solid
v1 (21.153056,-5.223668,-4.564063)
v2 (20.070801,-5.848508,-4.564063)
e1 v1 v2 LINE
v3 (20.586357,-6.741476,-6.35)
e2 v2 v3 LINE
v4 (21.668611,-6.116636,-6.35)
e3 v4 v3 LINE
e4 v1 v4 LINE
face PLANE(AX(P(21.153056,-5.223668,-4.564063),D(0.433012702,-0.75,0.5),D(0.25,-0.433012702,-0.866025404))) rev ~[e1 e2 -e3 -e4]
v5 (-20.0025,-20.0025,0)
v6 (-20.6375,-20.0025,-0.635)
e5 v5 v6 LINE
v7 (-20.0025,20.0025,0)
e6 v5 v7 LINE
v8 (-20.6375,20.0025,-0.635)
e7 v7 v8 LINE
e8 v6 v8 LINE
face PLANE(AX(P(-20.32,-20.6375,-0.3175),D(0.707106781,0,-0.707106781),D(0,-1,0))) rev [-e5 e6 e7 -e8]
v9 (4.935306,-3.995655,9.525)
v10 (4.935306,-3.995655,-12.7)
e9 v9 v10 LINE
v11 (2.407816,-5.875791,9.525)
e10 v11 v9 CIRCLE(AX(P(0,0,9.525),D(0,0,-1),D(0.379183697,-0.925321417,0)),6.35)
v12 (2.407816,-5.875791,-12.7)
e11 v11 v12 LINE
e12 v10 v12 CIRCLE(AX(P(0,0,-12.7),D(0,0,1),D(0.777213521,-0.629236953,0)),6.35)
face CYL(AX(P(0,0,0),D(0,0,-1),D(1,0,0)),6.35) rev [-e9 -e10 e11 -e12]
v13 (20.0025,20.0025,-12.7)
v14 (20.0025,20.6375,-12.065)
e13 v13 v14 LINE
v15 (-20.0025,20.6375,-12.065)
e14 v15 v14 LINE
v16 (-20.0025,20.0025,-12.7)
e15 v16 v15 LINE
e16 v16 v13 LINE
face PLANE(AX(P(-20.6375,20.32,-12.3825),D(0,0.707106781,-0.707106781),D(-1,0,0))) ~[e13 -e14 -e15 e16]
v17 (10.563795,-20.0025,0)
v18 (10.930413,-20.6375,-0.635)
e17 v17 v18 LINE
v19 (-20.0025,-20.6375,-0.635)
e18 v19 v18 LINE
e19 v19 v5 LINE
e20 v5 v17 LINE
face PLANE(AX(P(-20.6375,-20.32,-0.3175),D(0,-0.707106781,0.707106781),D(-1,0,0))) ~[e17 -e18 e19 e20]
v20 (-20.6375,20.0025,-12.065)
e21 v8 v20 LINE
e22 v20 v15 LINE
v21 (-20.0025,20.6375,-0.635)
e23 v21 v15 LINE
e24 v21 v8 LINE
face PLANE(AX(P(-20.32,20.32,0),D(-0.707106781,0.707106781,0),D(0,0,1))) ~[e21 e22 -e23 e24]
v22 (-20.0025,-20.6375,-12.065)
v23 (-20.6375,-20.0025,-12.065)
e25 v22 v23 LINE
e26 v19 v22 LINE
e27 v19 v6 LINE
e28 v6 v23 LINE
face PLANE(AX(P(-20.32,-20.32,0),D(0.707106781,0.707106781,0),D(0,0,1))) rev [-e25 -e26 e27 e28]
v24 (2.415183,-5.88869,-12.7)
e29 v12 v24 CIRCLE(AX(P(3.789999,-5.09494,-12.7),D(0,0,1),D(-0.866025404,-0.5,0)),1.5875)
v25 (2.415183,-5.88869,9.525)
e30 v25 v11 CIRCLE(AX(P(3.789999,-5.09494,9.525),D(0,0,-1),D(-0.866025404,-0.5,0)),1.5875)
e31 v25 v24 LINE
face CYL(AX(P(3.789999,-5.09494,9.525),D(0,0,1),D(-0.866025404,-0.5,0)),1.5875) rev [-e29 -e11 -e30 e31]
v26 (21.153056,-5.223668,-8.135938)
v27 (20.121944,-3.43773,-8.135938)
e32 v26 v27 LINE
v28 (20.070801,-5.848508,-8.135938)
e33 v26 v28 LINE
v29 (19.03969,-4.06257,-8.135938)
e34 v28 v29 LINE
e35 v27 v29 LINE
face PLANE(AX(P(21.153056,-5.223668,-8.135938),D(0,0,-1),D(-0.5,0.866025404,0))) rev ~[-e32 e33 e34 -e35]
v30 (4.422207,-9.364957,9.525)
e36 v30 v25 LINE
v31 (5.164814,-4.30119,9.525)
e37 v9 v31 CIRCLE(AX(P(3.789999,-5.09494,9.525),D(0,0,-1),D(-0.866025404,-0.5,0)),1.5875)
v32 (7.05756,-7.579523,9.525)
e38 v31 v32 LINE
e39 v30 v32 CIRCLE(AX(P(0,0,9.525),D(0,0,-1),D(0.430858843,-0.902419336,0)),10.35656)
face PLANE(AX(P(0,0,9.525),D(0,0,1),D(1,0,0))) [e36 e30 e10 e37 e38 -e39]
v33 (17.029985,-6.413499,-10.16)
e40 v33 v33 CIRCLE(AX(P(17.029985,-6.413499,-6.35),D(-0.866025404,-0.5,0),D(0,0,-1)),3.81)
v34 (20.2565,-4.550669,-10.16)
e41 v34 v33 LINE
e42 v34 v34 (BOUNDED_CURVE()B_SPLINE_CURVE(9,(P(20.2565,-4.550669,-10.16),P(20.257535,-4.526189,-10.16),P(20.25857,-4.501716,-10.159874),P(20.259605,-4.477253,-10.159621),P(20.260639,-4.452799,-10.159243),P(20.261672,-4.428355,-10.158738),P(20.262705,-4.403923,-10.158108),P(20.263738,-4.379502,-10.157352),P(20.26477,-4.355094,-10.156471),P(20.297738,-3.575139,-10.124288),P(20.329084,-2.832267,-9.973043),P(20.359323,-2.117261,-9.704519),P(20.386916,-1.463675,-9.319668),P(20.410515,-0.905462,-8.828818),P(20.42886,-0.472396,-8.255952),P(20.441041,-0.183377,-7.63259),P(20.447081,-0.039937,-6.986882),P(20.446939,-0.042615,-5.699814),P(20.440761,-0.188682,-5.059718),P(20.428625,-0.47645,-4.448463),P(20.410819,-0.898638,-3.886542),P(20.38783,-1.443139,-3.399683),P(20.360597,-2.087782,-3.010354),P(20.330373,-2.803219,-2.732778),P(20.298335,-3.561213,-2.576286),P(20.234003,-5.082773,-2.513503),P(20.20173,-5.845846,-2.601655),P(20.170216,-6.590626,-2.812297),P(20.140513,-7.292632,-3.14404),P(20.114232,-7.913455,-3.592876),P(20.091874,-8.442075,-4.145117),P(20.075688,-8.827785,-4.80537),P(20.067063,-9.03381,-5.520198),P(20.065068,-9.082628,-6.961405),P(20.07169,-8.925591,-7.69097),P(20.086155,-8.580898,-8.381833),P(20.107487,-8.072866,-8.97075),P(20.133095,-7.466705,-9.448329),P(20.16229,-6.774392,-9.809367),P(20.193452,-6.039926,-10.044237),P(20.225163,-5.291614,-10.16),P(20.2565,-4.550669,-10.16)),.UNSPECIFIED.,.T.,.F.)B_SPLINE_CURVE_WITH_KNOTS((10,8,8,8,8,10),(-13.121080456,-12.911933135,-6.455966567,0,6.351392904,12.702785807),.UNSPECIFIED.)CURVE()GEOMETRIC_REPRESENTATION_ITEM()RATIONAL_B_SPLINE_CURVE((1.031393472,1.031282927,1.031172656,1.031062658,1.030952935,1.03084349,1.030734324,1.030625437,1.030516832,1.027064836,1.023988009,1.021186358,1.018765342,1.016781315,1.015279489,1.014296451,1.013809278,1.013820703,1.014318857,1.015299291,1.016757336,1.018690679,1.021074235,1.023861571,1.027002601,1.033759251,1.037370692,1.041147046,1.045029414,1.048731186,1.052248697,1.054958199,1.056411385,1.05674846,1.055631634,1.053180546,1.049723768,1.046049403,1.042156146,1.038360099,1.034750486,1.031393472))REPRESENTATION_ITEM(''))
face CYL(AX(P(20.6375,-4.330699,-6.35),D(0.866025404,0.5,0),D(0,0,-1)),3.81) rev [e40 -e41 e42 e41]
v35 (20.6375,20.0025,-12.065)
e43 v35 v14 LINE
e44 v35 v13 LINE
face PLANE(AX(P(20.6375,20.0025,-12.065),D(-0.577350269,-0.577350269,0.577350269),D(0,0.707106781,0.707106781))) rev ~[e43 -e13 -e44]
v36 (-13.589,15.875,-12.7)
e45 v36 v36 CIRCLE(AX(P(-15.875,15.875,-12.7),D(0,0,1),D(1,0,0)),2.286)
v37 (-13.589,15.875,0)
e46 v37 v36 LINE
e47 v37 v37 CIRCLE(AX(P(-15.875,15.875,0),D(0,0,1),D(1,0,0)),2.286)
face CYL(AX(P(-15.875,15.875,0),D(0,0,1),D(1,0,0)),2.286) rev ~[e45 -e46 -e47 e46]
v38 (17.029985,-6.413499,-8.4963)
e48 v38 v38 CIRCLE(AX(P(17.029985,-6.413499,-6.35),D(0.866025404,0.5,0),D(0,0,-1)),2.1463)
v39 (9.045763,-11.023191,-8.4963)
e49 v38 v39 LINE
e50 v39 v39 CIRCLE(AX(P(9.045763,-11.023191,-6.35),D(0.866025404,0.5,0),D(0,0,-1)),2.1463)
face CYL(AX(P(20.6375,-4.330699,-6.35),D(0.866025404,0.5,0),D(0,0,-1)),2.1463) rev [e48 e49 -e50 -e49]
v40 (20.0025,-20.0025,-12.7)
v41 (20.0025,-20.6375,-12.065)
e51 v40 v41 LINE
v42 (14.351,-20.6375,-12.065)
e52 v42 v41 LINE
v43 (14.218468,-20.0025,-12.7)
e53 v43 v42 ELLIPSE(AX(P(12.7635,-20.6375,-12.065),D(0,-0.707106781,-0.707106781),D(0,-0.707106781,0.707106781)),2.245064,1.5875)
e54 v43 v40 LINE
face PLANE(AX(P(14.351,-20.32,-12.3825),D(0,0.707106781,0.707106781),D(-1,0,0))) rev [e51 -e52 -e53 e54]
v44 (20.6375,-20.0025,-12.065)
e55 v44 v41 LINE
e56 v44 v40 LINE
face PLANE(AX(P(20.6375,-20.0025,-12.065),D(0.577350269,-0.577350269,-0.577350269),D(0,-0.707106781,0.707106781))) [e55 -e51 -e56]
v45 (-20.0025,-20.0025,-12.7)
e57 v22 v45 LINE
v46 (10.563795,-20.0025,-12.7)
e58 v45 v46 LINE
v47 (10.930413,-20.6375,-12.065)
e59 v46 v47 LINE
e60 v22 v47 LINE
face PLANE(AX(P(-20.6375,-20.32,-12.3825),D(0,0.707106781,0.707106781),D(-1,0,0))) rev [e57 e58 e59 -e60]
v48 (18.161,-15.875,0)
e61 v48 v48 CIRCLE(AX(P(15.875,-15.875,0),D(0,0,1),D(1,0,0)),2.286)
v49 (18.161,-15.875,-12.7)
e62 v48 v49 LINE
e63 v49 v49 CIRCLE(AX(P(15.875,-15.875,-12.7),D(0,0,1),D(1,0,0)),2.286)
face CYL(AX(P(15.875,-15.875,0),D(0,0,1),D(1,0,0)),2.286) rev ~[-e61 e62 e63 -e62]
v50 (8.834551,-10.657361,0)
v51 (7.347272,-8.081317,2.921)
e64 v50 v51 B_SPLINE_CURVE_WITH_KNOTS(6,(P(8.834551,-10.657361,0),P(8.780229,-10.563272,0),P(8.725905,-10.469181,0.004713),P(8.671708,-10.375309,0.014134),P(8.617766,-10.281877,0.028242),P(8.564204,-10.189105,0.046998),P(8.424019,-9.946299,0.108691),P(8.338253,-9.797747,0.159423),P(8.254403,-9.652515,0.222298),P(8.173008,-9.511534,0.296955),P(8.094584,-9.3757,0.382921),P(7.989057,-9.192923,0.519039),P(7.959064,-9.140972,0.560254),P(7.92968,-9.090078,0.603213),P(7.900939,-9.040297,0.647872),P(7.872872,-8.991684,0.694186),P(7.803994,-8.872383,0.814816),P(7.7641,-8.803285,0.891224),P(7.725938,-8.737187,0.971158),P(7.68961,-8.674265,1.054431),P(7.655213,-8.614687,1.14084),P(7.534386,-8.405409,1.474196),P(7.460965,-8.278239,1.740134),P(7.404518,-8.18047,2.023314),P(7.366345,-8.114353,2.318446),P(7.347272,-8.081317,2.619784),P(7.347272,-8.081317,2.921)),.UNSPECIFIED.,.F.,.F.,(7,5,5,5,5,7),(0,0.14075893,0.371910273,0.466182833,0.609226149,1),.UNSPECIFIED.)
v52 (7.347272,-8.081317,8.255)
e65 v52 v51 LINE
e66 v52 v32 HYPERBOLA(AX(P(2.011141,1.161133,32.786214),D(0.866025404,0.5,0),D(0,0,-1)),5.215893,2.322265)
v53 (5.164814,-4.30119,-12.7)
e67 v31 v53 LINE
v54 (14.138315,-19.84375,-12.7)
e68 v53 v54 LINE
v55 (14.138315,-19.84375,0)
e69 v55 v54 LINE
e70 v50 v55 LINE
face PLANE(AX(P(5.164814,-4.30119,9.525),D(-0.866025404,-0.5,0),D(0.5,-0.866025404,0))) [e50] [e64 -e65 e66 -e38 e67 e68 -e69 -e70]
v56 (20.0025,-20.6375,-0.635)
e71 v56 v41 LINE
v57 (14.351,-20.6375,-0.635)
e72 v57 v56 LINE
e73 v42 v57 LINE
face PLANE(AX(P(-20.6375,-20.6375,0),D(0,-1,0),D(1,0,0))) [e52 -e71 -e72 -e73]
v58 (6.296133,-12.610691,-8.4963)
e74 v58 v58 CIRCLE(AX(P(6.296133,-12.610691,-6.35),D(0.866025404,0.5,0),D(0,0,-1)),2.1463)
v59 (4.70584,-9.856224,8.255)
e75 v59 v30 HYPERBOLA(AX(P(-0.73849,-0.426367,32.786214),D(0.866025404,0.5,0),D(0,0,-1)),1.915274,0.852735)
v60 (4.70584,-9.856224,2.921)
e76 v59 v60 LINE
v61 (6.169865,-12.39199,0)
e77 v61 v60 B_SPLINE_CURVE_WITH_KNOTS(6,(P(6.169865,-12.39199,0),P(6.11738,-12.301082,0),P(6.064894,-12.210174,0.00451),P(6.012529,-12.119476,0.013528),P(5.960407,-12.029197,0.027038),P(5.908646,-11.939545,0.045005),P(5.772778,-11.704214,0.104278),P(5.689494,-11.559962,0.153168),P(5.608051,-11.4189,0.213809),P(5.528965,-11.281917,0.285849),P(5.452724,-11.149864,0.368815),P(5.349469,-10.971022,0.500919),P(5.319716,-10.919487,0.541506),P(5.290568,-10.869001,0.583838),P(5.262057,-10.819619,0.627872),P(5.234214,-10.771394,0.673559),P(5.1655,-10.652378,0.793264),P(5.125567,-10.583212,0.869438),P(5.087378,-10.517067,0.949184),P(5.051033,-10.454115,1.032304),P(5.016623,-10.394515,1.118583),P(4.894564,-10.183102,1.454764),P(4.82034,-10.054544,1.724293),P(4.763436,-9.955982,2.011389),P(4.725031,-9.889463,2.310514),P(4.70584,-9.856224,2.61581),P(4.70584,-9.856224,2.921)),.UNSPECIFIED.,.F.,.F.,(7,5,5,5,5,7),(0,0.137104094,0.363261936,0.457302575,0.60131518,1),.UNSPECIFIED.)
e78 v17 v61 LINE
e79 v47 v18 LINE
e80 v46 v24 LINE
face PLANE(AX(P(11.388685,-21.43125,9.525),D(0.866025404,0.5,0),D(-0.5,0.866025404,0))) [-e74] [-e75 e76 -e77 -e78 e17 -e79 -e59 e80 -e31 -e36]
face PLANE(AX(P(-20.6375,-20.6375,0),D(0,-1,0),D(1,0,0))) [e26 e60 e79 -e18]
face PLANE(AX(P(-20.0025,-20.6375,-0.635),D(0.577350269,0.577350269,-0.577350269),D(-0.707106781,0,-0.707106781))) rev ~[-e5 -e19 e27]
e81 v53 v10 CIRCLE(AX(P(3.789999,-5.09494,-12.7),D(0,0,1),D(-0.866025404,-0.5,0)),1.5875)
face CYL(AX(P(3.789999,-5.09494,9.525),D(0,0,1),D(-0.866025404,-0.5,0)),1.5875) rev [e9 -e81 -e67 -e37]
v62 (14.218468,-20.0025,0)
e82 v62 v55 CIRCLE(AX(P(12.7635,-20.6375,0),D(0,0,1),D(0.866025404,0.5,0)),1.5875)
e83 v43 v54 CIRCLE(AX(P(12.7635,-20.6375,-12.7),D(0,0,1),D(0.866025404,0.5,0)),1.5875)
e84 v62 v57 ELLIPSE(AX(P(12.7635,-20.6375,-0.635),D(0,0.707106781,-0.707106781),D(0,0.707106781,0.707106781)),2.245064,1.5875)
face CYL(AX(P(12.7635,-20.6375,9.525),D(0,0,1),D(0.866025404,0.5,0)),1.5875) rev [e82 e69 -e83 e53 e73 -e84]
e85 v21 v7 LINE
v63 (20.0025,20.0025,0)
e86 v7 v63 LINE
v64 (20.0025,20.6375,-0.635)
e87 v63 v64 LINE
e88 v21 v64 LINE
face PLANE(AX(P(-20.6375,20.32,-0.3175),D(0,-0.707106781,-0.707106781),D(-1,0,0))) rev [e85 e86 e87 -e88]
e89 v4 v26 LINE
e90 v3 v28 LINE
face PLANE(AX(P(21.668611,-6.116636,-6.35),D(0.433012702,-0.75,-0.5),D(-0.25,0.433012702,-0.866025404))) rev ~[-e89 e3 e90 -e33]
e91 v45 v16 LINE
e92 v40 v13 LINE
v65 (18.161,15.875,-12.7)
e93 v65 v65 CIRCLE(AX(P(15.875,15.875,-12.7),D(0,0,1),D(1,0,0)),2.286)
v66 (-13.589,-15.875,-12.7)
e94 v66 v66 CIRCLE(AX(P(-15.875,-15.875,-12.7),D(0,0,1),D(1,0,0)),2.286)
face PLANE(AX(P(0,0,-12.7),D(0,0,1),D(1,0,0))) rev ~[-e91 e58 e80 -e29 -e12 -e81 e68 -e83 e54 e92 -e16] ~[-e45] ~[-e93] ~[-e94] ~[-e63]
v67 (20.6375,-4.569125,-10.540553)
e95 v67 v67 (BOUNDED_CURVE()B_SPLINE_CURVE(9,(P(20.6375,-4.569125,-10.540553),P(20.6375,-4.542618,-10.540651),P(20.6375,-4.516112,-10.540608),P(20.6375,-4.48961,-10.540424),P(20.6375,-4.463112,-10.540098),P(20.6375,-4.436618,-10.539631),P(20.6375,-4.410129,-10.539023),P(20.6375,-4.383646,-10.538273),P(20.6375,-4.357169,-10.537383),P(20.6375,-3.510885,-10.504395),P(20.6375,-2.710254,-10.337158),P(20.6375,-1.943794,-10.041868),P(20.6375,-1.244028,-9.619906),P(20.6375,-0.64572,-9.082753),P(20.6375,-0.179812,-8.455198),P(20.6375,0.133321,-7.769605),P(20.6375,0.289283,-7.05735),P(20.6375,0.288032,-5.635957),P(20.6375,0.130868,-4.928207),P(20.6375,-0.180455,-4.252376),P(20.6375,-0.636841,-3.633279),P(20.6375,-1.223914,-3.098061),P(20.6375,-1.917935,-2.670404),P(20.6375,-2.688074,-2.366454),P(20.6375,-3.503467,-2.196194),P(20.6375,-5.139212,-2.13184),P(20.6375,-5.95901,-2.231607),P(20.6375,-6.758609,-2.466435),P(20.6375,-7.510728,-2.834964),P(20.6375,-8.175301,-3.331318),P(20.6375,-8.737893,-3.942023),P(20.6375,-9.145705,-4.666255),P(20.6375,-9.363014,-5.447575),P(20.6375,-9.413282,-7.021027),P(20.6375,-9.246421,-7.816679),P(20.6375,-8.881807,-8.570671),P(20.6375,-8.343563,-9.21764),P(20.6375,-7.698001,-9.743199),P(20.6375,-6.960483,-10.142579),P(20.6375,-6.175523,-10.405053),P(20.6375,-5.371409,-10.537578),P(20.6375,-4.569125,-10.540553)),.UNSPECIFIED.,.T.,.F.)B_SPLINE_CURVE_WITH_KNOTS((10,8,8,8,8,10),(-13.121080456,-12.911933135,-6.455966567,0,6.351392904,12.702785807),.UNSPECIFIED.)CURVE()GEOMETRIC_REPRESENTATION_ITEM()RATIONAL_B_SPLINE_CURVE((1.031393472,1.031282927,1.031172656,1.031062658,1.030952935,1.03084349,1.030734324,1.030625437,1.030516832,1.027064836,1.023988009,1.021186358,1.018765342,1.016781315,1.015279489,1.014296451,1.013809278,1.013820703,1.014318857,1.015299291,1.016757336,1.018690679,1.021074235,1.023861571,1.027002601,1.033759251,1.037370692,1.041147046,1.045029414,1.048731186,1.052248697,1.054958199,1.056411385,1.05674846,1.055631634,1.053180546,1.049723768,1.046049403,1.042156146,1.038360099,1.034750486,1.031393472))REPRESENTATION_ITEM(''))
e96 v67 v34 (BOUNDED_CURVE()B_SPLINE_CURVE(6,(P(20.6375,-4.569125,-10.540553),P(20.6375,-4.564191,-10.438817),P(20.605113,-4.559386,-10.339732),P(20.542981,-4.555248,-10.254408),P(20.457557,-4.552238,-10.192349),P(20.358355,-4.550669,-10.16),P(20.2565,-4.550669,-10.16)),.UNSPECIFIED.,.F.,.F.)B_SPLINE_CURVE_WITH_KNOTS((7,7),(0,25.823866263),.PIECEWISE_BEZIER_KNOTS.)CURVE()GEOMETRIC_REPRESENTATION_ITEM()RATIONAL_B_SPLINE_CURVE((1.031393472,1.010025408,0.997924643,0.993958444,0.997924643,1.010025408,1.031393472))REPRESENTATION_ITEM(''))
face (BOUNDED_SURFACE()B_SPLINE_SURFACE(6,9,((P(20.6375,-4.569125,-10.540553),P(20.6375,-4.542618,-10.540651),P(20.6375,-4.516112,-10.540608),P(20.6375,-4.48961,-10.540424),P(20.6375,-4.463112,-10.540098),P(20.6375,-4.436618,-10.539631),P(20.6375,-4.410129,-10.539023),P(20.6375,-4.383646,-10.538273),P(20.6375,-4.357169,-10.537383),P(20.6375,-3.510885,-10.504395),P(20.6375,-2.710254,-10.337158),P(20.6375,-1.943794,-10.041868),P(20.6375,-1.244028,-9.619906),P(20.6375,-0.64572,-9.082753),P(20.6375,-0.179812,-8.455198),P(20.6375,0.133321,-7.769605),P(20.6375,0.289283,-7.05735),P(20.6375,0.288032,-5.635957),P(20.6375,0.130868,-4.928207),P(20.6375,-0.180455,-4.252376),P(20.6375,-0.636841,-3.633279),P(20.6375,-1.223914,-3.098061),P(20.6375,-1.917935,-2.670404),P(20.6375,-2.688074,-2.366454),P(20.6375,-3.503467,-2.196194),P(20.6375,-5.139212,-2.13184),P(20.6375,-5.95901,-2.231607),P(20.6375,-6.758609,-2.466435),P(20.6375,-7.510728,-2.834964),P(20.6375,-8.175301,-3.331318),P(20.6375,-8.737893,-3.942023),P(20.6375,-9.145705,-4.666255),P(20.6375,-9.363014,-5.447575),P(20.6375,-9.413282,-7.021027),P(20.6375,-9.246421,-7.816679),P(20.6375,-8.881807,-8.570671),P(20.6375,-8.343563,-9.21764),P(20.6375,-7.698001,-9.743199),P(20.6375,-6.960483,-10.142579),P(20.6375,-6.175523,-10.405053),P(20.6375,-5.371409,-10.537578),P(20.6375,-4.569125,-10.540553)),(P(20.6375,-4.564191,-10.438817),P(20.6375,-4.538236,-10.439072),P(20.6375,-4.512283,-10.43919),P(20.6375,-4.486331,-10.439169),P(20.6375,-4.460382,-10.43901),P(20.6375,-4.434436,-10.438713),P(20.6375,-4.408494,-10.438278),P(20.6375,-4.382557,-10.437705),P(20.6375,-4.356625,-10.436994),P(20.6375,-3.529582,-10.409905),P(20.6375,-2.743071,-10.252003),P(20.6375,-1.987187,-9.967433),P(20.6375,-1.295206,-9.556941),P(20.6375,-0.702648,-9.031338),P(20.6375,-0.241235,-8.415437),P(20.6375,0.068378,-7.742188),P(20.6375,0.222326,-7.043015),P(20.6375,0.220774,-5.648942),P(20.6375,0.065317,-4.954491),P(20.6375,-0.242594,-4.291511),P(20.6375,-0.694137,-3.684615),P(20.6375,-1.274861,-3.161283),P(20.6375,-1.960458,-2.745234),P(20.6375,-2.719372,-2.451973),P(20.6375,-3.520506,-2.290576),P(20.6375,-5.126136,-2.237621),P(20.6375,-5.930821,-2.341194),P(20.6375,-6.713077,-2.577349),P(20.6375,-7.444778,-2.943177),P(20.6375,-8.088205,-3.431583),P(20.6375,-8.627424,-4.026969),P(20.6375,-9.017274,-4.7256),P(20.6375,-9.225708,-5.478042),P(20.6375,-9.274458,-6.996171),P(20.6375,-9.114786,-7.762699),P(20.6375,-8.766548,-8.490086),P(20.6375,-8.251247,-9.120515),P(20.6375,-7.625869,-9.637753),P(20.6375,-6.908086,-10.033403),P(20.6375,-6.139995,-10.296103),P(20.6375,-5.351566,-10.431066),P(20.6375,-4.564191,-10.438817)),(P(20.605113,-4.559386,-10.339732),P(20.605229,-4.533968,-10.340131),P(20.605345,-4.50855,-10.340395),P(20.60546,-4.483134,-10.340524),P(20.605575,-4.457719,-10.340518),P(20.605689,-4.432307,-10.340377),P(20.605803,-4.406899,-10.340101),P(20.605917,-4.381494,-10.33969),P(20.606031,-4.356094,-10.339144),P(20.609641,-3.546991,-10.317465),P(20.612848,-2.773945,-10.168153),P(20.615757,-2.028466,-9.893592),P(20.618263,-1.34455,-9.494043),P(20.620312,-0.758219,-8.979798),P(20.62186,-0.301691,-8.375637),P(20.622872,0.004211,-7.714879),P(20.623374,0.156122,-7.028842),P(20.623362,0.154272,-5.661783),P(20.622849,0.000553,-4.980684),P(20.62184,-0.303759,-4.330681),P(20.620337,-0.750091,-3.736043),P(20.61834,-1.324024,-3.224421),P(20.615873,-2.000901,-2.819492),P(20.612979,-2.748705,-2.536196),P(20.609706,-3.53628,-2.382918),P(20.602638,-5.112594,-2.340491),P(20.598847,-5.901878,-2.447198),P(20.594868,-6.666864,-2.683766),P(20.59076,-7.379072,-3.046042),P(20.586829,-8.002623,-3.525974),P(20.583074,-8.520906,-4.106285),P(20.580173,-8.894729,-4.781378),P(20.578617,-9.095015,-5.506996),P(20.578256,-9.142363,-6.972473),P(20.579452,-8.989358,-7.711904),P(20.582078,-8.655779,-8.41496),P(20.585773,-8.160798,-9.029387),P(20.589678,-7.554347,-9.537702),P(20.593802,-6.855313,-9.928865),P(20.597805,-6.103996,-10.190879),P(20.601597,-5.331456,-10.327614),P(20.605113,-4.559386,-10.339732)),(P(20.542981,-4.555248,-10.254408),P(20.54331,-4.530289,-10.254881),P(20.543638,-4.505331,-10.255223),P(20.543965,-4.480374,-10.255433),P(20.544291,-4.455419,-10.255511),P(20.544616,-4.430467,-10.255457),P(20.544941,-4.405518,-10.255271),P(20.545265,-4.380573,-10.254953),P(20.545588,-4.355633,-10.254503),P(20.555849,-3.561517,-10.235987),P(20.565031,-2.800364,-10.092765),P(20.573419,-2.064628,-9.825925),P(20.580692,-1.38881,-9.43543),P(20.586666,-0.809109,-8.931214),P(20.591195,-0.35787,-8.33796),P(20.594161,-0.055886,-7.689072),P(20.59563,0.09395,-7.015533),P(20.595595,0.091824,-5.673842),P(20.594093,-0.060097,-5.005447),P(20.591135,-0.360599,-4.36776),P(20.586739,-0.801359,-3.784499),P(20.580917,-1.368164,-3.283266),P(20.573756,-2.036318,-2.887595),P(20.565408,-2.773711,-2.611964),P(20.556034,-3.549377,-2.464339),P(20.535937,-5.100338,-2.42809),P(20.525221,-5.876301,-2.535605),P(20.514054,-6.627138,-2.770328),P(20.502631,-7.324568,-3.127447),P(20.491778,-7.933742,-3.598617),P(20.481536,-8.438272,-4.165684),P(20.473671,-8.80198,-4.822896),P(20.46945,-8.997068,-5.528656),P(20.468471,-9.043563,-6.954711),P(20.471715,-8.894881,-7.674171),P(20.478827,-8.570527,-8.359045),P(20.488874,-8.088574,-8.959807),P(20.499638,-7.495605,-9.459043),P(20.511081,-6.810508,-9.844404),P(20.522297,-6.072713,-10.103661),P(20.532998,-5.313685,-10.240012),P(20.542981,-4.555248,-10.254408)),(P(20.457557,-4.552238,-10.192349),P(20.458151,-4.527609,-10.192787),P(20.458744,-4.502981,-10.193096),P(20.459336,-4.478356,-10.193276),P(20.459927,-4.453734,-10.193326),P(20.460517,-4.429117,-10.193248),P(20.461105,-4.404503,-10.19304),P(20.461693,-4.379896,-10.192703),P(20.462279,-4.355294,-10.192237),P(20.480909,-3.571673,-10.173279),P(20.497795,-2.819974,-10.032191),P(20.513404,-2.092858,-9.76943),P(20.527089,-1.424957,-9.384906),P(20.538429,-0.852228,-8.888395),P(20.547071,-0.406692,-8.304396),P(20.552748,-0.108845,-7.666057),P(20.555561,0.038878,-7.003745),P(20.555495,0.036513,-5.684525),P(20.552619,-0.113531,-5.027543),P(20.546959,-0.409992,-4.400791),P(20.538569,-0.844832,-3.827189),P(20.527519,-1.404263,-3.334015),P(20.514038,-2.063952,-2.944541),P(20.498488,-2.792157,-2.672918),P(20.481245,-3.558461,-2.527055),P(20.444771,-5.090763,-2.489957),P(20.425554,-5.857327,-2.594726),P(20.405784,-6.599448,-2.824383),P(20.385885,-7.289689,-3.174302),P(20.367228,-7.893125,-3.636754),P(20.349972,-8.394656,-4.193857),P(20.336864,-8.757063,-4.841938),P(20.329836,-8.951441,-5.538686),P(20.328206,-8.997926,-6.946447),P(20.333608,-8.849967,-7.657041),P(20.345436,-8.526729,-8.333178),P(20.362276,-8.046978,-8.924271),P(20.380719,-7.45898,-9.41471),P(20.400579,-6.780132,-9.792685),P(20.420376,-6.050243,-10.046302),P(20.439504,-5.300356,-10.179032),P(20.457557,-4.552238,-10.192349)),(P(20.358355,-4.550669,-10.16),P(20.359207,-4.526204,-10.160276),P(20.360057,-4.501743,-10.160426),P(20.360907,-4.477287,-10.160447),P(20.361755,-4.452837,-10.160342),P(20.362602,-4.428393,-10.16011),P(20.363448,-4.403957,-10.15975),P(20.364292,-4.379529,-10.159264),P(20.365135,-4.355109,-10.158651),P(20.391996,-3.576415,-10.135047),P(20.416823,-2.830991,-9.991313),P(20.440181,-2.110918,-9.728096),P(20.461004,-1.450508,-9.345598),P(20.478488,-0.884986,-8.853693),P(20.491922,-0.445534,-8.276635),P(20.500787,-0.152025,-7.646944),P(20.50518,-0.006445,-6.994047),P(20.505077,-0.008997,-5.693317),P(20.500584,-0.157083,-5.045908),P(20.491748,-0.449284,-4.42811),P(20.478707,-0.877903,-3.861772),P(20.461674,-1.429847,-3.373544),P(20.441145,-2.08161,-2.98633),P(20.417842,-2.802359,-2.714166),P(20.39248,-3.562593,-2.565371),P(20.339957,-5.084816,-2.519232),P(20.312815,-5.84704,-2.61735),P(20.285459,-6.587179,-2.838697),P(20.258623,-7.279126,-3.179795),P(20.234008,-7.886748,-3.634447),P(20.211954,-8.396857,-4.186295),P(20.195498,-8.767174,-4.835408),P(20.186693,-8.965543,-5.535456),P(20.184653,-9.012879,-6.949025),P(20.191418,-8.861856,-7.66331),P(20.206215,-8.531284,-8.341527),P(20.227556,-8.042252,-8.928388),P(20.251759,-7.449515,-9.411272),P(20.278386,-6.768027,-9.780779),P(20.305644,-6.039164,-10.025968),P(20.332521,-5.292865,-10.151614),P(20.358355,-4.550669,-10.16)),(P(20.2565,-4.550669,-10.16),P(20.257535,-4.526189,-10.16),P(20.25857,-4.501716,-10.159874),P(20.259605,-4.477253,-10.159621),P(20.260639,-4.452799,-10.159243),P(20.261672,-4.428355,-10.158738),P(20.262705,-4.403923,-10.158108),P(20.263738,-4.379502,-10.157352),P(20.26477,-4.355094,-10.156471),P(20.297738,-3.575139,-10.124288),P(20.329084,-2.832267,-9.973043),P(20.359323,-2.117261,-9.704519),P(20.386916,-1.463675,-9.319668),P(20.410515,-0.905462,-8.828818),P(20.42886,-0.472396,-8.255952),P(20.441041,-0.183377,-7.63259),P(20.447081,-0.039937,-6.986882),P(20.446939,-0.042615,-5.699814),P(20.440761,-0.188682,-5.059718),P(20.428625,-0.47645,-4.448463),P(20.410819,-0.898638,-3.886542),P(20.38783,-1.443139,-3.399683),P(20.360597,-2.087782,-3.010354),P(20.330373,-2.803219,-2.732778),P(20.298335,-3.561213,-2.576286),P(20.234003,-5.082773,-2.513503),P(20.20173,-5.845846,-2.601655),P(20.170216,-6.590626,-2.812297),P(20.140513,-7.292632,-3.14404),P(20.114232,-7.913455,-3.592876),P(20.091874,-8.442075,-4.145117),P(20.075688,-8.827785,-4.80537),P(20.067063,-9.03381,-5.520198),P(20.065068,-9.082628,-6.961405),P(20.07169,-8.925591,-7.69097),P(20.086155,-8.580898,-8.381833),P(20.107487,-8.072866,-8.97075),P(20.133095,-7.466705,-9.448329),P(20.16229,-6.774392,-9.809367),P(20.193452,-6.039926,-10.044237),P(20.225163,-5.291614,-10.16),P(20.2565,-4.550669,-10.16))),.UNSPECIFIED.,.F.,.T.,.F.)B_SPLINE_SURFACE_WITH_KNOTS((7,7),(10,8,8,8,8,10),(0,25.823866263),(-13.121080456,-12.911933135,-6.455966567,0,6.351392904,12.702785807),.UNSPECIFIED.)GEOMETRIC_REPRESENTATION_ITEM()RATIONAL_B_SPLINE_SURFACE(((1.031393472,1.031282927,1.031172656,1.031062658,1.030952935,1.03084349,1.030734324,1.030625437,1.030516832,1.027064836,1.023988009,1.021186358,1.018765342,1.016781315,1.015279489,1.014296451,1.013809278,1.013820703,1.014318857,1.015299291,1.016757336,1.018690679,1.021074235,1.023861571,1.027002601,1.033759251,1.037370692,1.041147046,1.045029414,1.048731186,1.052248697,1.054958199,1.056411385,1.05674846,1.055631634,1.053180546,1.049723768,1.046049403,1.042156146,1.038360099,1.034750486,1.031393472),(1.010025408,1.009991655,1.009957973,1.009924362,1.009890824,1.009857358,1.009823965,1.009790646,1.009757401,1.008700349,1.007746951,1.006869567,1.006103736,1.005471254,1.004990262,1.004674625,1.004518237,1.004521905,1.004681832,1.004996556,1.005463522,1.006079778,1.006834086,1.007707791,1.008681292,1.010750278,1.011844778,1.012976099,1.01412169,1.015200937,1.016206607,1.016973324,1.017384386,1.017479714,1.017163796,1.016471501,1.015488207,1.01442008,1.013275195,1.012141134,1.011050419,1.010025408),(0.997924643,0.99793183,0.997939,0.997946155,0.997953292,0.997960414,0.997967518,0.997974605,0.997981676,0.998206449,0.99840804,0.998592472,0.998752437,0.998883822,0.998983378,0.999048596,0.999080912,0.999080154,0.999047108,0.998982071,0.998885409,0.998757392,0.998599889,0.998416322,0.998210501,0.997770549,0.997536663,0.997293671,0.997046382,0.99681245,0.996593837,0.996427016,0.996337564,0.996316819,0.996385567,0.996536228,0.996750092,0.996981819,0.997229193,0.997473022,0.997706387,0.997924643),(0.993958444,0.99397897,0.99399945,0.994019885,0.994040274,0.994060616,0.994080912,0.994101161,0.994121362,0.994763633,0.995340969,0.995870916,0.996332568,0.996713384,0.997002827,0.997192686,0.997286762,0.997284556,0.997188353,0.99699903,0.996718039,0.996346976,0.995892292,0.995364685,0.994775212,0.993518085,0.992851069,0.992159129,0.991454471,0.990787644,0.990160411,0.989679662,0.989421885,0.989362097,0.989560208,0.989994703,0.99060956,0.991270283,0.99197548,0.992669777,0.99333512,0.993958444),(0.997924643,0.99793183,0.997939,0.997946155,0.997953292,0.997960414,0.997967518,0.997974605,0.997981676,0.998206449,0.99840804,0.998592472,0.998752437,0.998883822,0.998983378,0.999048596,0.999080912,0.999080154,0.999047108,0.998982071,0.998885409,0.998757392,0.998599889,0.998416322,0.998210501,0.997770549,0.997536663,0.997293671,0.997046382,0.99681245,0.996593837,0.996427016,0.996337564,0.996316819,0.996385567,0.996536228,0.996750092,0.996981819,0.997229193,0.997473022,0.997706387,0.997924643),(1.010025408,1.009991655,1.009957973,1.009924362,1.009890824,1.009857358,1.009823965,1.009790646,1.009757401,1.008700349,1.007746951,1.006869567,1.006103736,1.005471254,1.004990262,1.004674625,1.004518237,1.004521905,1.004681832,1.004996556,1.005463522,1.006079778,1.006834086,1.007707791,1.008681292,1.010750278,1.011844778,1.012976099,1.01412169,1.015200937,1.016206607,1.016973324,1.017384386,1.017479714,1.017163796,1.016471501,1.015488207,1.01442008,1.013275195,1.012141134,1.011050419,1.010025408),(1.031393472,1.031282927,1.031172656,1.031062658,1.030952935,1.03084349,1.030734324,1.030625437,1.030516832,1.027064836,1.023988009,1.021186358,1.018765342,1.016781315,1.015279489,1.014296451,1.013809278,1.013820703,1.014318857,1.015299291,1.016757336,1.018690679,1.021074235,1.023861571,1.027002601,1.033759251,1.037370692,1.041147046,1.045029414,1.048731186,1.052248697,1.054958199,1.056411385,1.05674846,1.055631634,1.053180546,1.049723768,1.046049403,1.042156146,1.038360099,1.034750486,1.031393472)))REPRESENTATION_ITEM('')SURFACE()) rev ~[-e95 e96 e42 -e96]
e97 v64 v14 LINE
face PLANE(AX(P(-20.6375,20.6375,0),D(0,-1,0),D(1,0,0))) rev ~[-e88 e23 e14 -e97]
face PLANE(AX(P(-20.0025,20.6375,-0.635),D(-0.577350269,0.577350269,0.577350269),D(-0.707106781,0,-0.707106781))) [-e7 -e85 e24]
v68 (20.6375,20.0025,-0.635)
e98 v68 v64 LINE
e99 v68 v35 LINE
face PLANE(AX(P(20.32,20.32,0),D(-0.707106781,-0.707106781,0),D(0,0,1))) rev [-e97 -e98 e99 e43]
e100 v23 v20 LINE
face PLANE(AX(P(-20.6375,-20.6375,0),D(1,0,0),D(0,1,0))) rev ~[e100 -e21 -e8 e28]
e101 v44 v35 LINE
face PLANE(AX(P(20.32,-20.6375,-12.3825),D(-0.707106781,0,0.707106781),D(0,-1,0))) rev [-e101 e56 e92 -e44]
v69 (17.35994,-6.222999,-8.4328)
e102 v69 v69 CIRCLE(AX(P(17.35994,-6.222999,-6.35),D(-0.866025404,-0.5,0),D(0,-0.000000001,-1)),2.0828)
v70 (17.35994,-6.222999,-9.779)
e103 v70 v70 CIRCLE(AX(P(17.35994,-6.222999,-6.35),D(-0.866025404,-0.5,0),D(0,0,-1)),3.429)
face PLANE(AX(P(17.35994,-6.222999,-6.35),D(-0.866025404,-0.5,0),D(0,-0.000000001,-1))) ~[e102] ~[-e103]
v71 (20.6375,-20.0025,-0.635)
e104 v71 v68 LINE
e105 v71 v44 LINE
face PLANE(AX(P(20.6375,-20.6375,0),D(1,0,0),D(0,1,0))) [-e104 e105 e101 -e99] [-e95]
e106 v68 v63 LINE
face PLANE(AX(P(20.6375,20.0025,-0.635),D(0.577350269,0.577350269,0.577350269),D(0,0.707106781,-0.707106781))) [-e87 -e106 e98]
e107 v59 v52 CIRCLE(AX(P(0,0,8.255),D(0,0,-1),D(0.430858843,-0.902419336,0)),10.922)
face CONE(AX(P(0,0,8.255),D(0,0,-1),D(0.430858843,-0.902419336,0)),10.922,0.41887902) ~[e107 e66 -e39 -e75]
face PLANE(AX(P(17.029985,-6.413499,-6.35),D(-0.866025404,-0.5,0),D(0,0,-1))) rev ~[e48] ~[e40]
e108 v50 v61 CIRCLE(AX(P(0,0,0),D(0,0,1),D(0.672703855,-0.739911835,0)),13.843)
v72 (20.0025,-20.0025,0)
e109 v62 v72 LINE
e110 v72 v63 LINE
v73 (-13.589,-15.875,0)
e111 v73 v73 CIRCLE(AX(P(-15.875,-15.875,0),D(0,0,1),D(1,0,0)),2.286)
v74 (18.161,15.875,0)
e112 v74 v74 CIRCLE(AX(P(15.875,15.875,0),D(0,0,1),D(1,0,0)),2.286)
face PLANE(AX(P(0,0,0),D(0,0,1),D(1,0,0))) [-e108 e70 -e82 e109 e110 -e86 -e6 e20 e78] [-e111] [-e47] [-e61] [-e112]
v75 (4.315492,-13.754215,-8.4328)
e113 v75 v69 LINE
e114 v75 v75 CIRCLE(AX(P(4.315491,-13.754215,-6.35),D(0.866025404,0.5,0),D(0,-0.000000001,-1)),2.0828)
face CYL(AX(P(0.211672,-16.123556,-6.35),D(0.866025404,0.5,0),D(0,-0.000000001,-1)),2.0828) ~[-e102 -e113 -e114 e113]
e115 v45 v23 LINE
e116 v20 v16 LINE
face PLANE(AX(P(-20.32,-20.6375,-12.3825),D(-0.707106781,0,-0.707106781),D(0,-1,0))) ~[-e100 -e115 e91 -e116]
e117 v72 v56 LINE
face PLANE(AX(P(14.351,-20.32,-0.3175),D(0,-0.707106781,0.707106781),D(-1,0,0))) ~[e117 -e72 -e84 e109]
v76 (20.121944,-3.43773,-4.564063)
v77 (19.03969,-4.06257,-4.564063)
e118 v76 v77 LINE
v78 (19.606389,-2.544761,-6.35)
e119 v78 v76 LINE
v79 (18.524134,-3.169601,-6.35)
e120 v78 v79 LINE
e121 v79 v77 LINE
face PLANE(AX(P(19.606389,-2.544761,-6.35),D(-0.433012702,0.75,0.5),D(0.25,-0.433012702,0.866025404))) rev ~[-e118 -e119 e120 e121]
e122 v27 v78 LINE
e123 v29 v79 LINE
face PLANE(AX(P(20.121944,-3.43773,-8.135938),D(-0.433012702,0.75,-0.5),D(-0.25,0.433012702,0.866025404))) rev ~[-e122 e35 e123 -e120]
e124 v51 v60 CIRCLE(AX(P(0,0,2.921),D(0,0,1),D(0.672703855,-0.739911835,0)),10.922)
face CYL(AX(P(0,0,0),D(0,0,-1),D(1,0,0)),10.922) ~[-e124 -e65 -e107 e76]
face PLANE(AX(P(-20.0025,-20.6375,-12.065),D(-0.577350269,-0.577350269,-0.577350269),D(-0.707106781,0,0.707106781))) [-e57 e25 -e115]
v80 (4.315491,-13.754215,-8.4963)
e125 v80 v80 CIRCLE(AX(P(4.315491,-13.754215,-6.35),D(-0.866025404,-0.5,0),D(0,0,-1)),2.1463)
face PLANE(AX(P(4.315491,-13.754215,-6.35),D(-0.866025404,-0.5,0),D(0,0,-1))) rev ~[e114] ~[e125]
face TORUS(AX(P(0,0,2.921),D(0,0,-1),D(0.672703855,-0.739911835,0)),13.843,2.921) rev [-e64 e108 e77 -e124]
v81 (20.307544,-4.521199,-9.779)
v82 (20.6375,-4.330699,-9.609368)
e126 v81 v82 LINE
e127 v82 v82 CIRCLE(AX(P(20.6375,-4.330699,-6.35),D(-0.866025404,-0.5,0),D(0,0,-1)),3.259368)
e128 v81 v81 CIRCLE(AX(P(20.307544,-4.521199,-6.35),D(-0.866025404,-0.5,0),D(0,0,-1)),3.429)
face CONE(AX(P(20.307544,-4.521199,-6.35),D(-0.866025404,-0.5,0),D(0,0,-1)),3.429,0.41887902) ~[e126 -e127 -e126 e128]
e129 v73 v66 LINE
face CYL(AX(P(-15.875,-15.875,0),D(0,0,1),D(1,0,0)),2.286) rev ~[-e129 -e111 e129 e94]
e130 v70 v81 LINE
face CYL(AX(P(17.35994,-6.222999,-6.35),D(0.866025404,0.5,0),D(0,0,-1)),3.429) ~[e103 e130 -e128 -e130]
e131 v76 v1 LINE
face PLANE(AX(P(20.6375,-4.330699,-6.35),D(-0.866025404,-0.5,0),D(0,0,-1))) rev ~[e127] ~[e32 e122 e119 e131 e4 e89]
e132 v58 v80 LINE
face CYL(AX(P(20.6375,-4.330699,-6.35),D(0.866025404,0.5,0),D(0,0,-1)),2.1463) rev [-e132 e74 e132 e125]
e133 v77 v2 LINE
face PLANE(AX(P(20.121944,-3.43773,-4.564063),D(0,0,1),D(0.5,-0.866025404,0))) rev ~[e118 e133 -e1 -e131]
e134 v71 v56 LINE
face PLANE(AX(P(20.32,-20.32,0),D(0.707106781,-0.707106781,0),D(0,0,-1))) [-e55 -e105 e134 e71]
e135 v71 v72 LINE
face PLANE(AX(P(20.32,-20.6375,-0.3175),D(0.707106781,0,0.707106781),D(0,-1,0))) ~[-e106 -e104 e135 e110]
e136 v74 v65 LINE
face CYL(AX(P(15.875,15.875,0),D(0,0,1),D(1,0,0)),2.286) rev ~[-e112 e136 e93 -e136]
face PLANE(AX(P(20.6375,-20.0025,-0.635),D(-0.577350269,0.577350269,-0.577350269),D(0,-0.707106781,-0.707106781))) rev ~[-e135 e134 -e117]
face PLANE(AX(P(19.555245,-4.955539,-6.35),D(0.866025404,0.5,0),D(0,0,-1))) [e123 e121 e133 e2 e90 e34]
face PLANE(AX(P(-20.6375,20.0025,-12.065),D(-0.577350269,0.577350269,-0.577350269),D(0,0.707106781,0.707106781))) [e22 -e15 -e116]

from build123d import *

# Parameters (mm, degrees)
SKETCH4_W               = 41.275
SKETCH4_H               = 41.275
SKETCH4_R               = 2.286
SKETCH4_R_2             = 6.35
BOSS_EXTRUDE1_DEPTH     = 12.7
SKETCH6_R               = 10.922
SKETCH6_R_2             = 6.35
BOSS_EXTRUDE2_DEPTH     = 9.525
CUT_EXTRUDE1_DEPTH      = 23.225
CHAMFER1_SIZE           = 1.27
CHAMFER1_SIZE2          = 0.56544043
CHAMFER3_SIZE           = 0.635
SKETCH18_R              = 2.1463
CUT_EXTRUDE2_DEPTH      = 18.847032
CUT_EXTRUDE2_DEPTH_BACK = 2.54
SKETCH19_R              = 3.81
CUT_EXTRUDE3_DEPTH      = 4.1656
CUT_EXTRUDE3_DEPTH_BACK = 13.484099492
CUT_EXTRUDE4_DEPTH      = 1.24968
CHAMFER4_SIZE           = 0.381
CHAMFER4_SIZE2          = 0.169632129
FILLET1_R               = 0.381
FILLET2_R               = 2.921


with BuildPart() as part:
    # Sketch4 → Boss-Extrude1 (new body)
    with BuildSketch(Plane.XY):
        Rectangle(SKETCH4_W, SKETCH4_H)
        with Locations((-15.875, -15.875)):
            Circle(SKETCH4_R, mode=Mode.SUBTRACT)
        with Locations((15.875, -15.875)):
            Circle(SKETCH4_R, mode=Mode.SUBTRACT)
        with Locations((15.875, 15.875)):
            Circle(SKETCH4_R, mode=Mode.SUBTRACT)
        with Locations((-15.875, 15.875)):
            Circle(SKETCH4_R, mode=Mode.SUBTRACT)
        Circle(SKETCH4_R_2, mode=Mode.SUBTRACT)
    extrude(amount=-BOSS_EXTRUDE1_DEPTH)

    # Sketch6 → Boss-Extrude2 (add)
    with BuildSketch(Plane.XY):
        Circle(SKETCH6_R)
        Circle(SKETCH6_R_2, mode=Mode.SUBTRACT)
    extrude(amount=BOSS_EXTRUDE2_DEPTH)

    # Sketch8 → Cut-Extrude1 (cut, through all)
    with BuildSketch(Plane.XY.offset(9.525)):
        with BuildLine():
            Line((11.388684671, -21.43125), (2.415183293, -5.88868969))
            ThreePointArc((2.415183293, -5.88868969), (2.996248621, -3.720124362), (5.16481395, -4.30118969))
            Line((5.16481395, -4.30118969), (14.138315329, -19.84375))
            ThreePointArc((14.138315329, -19.84375), (13.55725, -22.012315329), (11.388684671, -21.43125))
        make_face()
    extrude(amount=-CUT_EXTRUDE1_DEPTH, mode=Mode.SUBTRACT)

    # Chamfer1
    chamfer1_edges = [part.edges().sort_by_distance(p)[0] for p in [
        (-6.09154739, 9.065491404, 9.525),
    ]]
    chamfer1_side = [part.faces().sort_by_distance(p)[0] for p in [
        (-6.09154739, 9.065491404, 4.7625),
    ]]
    chamfer(chamfer1_edges, length=CHAMFER1_SIZE, length2=CHAMFER1_SIZE2, reference=chamfer1_side[0])

    # Chamfer3
    chamfer3_edges = [part.edges().sort_by_distance(p)[0] for p in [
        (0, 20.6375, -12.7),
        (-20.6375, 0, -12.7),
        (-4.853543552, -20.6375, -12.7),
        (-20.6375, 0, 0),
        (17.49425, -20.6375, -12.7),
        (0, 20.6375, 0),
        (17.49425, -20.6375, 0),
        (20.6375, 0, 0),
        (-4.853543552, -20.6375, 0),
        (20.6375, 0, -12.7),
        (-20.6375, -20.6375, -6.35),
        (-20.6375, 20.6375, -6.35),
        (20.6375, 20.6375, -6.35),
        (20.6375, -20.6375, -6.35),
    ]]
    chamfer(chamfer3_edges, length=CHAMFER3_SIZE)

    # Sketch18 → Cut-Extrude2 (cut, two sides)
    with BuildSketch(Plane(origin=(13.602877332, 7.853624889, 0), x_dir=(0, 0, -1), z_dir=(-0.866025404, -0.5, 0))) as cut_extrude2_sk:
        with Locations((6.35, 14.069245336)):
            Circle(SKETCH18_R)
    extrude(amount=CUT_EXTRUDE2_DEPTH, mode=Mode.SUBTRACT)
    extrude(cut_extrude2_sk.sketch, amount=-CUT_EXTRUDE2_DEPTH_BACK, mode=Mode.SUBTRACT)

    # Sketch19 → Cut-Extrude3 (cut, two sides)
    with BuildSketch(Plane(origin=(13.602877332, 7.853624889, 0), x_dir=(0, 0, -1), z_dir=(-0.866025404, -0.5, 0))) as cut_extrude3_sk:
        with Locations((6.35, 14.069245336)):
            Circle(SKETCH19_R)
    extrude(amount=CUT_EXTRUDE3_DEPTH, mode=Mode.SUBTRACT)
    extrude(cut_extrude3_sk.sketch, amount=-CUT_EXTRUDE3_DEPTH_BACK, mode=Mode.SUBTRACT)

    # Sketch21 → Revolve2 (revolve)
    with BuildSketch(Plane(origin=(7.034622668, -12.184323873, 0), x_dir=(-0.866025404, -0.5, 0), z_dir=(0.5, -0.866025404, 0))):
        Polygon((-15.707249779, 6.35), (7.878464507, 6.35), (7.878464507, 8.4328), (-11.922649779, 8.4328), (-11.922649779, 9.779), (-15.707249779, 9.779), align=None)
    revolve(axis=Axis((20.6375, -4.330698984, -6.35), (-0.866025404, -0.5, 0)))

    # Sketch22 → Cut-Extrude4 (cut)
    with BuildSketch(Plane(origin=(13.602877332, 7.853624889, 0), x_dir=(0, 0, -1), z_dir=(0.866025404, 0.5, 0))):
        Polygon((6.35, -16.131468329), (8.1359375, -15.100356833), (8.1359375, -13.03813384), (6.35, -12.007022344), (4.5640625, -13.03813384), (4.5640625, -15.100356833), align=None)
    extrude(amount=-CUT_EXTRUDE4_DEPTH, mode=Mode.SUBTRACT)

    # Chamfer4
    chamfer4_edges = [part.edges().sort_by_distance(p)[0] for p in [
        (20.6375, -4.330698984, -2.921),
    ]]
    chamfer4_side = [part.faces().sort_by_distance(p)[0] for p in [
        (18.998720128, -5.276848984, -2.921),
    ]]
    chamfer(chamfer4_edges, length=CHAMFER4_SIZE, length2=CHAMFER4_SIZE2, reference=chamfer4_side[0])

    # Fillet1
    fillet1_edges = [part.edges().sort_by_distance(p)[0] for p in [
        (20.6375, -8.730108035, -6.35000004),
        (20.6375, 0.068710067, -6.34999996),
    ]]
    fillet(fillet1_edges, radius=FILLET1_R)

    # Fillet2
    fillet2_edges = [part.edges().sort_by_distance(p)[0] for p in [
        (-6.09154739, 9.065491404, 0),
    ]]
    fillet(fillet2_edges, radius=FILLET2_R)


solid = part.part
